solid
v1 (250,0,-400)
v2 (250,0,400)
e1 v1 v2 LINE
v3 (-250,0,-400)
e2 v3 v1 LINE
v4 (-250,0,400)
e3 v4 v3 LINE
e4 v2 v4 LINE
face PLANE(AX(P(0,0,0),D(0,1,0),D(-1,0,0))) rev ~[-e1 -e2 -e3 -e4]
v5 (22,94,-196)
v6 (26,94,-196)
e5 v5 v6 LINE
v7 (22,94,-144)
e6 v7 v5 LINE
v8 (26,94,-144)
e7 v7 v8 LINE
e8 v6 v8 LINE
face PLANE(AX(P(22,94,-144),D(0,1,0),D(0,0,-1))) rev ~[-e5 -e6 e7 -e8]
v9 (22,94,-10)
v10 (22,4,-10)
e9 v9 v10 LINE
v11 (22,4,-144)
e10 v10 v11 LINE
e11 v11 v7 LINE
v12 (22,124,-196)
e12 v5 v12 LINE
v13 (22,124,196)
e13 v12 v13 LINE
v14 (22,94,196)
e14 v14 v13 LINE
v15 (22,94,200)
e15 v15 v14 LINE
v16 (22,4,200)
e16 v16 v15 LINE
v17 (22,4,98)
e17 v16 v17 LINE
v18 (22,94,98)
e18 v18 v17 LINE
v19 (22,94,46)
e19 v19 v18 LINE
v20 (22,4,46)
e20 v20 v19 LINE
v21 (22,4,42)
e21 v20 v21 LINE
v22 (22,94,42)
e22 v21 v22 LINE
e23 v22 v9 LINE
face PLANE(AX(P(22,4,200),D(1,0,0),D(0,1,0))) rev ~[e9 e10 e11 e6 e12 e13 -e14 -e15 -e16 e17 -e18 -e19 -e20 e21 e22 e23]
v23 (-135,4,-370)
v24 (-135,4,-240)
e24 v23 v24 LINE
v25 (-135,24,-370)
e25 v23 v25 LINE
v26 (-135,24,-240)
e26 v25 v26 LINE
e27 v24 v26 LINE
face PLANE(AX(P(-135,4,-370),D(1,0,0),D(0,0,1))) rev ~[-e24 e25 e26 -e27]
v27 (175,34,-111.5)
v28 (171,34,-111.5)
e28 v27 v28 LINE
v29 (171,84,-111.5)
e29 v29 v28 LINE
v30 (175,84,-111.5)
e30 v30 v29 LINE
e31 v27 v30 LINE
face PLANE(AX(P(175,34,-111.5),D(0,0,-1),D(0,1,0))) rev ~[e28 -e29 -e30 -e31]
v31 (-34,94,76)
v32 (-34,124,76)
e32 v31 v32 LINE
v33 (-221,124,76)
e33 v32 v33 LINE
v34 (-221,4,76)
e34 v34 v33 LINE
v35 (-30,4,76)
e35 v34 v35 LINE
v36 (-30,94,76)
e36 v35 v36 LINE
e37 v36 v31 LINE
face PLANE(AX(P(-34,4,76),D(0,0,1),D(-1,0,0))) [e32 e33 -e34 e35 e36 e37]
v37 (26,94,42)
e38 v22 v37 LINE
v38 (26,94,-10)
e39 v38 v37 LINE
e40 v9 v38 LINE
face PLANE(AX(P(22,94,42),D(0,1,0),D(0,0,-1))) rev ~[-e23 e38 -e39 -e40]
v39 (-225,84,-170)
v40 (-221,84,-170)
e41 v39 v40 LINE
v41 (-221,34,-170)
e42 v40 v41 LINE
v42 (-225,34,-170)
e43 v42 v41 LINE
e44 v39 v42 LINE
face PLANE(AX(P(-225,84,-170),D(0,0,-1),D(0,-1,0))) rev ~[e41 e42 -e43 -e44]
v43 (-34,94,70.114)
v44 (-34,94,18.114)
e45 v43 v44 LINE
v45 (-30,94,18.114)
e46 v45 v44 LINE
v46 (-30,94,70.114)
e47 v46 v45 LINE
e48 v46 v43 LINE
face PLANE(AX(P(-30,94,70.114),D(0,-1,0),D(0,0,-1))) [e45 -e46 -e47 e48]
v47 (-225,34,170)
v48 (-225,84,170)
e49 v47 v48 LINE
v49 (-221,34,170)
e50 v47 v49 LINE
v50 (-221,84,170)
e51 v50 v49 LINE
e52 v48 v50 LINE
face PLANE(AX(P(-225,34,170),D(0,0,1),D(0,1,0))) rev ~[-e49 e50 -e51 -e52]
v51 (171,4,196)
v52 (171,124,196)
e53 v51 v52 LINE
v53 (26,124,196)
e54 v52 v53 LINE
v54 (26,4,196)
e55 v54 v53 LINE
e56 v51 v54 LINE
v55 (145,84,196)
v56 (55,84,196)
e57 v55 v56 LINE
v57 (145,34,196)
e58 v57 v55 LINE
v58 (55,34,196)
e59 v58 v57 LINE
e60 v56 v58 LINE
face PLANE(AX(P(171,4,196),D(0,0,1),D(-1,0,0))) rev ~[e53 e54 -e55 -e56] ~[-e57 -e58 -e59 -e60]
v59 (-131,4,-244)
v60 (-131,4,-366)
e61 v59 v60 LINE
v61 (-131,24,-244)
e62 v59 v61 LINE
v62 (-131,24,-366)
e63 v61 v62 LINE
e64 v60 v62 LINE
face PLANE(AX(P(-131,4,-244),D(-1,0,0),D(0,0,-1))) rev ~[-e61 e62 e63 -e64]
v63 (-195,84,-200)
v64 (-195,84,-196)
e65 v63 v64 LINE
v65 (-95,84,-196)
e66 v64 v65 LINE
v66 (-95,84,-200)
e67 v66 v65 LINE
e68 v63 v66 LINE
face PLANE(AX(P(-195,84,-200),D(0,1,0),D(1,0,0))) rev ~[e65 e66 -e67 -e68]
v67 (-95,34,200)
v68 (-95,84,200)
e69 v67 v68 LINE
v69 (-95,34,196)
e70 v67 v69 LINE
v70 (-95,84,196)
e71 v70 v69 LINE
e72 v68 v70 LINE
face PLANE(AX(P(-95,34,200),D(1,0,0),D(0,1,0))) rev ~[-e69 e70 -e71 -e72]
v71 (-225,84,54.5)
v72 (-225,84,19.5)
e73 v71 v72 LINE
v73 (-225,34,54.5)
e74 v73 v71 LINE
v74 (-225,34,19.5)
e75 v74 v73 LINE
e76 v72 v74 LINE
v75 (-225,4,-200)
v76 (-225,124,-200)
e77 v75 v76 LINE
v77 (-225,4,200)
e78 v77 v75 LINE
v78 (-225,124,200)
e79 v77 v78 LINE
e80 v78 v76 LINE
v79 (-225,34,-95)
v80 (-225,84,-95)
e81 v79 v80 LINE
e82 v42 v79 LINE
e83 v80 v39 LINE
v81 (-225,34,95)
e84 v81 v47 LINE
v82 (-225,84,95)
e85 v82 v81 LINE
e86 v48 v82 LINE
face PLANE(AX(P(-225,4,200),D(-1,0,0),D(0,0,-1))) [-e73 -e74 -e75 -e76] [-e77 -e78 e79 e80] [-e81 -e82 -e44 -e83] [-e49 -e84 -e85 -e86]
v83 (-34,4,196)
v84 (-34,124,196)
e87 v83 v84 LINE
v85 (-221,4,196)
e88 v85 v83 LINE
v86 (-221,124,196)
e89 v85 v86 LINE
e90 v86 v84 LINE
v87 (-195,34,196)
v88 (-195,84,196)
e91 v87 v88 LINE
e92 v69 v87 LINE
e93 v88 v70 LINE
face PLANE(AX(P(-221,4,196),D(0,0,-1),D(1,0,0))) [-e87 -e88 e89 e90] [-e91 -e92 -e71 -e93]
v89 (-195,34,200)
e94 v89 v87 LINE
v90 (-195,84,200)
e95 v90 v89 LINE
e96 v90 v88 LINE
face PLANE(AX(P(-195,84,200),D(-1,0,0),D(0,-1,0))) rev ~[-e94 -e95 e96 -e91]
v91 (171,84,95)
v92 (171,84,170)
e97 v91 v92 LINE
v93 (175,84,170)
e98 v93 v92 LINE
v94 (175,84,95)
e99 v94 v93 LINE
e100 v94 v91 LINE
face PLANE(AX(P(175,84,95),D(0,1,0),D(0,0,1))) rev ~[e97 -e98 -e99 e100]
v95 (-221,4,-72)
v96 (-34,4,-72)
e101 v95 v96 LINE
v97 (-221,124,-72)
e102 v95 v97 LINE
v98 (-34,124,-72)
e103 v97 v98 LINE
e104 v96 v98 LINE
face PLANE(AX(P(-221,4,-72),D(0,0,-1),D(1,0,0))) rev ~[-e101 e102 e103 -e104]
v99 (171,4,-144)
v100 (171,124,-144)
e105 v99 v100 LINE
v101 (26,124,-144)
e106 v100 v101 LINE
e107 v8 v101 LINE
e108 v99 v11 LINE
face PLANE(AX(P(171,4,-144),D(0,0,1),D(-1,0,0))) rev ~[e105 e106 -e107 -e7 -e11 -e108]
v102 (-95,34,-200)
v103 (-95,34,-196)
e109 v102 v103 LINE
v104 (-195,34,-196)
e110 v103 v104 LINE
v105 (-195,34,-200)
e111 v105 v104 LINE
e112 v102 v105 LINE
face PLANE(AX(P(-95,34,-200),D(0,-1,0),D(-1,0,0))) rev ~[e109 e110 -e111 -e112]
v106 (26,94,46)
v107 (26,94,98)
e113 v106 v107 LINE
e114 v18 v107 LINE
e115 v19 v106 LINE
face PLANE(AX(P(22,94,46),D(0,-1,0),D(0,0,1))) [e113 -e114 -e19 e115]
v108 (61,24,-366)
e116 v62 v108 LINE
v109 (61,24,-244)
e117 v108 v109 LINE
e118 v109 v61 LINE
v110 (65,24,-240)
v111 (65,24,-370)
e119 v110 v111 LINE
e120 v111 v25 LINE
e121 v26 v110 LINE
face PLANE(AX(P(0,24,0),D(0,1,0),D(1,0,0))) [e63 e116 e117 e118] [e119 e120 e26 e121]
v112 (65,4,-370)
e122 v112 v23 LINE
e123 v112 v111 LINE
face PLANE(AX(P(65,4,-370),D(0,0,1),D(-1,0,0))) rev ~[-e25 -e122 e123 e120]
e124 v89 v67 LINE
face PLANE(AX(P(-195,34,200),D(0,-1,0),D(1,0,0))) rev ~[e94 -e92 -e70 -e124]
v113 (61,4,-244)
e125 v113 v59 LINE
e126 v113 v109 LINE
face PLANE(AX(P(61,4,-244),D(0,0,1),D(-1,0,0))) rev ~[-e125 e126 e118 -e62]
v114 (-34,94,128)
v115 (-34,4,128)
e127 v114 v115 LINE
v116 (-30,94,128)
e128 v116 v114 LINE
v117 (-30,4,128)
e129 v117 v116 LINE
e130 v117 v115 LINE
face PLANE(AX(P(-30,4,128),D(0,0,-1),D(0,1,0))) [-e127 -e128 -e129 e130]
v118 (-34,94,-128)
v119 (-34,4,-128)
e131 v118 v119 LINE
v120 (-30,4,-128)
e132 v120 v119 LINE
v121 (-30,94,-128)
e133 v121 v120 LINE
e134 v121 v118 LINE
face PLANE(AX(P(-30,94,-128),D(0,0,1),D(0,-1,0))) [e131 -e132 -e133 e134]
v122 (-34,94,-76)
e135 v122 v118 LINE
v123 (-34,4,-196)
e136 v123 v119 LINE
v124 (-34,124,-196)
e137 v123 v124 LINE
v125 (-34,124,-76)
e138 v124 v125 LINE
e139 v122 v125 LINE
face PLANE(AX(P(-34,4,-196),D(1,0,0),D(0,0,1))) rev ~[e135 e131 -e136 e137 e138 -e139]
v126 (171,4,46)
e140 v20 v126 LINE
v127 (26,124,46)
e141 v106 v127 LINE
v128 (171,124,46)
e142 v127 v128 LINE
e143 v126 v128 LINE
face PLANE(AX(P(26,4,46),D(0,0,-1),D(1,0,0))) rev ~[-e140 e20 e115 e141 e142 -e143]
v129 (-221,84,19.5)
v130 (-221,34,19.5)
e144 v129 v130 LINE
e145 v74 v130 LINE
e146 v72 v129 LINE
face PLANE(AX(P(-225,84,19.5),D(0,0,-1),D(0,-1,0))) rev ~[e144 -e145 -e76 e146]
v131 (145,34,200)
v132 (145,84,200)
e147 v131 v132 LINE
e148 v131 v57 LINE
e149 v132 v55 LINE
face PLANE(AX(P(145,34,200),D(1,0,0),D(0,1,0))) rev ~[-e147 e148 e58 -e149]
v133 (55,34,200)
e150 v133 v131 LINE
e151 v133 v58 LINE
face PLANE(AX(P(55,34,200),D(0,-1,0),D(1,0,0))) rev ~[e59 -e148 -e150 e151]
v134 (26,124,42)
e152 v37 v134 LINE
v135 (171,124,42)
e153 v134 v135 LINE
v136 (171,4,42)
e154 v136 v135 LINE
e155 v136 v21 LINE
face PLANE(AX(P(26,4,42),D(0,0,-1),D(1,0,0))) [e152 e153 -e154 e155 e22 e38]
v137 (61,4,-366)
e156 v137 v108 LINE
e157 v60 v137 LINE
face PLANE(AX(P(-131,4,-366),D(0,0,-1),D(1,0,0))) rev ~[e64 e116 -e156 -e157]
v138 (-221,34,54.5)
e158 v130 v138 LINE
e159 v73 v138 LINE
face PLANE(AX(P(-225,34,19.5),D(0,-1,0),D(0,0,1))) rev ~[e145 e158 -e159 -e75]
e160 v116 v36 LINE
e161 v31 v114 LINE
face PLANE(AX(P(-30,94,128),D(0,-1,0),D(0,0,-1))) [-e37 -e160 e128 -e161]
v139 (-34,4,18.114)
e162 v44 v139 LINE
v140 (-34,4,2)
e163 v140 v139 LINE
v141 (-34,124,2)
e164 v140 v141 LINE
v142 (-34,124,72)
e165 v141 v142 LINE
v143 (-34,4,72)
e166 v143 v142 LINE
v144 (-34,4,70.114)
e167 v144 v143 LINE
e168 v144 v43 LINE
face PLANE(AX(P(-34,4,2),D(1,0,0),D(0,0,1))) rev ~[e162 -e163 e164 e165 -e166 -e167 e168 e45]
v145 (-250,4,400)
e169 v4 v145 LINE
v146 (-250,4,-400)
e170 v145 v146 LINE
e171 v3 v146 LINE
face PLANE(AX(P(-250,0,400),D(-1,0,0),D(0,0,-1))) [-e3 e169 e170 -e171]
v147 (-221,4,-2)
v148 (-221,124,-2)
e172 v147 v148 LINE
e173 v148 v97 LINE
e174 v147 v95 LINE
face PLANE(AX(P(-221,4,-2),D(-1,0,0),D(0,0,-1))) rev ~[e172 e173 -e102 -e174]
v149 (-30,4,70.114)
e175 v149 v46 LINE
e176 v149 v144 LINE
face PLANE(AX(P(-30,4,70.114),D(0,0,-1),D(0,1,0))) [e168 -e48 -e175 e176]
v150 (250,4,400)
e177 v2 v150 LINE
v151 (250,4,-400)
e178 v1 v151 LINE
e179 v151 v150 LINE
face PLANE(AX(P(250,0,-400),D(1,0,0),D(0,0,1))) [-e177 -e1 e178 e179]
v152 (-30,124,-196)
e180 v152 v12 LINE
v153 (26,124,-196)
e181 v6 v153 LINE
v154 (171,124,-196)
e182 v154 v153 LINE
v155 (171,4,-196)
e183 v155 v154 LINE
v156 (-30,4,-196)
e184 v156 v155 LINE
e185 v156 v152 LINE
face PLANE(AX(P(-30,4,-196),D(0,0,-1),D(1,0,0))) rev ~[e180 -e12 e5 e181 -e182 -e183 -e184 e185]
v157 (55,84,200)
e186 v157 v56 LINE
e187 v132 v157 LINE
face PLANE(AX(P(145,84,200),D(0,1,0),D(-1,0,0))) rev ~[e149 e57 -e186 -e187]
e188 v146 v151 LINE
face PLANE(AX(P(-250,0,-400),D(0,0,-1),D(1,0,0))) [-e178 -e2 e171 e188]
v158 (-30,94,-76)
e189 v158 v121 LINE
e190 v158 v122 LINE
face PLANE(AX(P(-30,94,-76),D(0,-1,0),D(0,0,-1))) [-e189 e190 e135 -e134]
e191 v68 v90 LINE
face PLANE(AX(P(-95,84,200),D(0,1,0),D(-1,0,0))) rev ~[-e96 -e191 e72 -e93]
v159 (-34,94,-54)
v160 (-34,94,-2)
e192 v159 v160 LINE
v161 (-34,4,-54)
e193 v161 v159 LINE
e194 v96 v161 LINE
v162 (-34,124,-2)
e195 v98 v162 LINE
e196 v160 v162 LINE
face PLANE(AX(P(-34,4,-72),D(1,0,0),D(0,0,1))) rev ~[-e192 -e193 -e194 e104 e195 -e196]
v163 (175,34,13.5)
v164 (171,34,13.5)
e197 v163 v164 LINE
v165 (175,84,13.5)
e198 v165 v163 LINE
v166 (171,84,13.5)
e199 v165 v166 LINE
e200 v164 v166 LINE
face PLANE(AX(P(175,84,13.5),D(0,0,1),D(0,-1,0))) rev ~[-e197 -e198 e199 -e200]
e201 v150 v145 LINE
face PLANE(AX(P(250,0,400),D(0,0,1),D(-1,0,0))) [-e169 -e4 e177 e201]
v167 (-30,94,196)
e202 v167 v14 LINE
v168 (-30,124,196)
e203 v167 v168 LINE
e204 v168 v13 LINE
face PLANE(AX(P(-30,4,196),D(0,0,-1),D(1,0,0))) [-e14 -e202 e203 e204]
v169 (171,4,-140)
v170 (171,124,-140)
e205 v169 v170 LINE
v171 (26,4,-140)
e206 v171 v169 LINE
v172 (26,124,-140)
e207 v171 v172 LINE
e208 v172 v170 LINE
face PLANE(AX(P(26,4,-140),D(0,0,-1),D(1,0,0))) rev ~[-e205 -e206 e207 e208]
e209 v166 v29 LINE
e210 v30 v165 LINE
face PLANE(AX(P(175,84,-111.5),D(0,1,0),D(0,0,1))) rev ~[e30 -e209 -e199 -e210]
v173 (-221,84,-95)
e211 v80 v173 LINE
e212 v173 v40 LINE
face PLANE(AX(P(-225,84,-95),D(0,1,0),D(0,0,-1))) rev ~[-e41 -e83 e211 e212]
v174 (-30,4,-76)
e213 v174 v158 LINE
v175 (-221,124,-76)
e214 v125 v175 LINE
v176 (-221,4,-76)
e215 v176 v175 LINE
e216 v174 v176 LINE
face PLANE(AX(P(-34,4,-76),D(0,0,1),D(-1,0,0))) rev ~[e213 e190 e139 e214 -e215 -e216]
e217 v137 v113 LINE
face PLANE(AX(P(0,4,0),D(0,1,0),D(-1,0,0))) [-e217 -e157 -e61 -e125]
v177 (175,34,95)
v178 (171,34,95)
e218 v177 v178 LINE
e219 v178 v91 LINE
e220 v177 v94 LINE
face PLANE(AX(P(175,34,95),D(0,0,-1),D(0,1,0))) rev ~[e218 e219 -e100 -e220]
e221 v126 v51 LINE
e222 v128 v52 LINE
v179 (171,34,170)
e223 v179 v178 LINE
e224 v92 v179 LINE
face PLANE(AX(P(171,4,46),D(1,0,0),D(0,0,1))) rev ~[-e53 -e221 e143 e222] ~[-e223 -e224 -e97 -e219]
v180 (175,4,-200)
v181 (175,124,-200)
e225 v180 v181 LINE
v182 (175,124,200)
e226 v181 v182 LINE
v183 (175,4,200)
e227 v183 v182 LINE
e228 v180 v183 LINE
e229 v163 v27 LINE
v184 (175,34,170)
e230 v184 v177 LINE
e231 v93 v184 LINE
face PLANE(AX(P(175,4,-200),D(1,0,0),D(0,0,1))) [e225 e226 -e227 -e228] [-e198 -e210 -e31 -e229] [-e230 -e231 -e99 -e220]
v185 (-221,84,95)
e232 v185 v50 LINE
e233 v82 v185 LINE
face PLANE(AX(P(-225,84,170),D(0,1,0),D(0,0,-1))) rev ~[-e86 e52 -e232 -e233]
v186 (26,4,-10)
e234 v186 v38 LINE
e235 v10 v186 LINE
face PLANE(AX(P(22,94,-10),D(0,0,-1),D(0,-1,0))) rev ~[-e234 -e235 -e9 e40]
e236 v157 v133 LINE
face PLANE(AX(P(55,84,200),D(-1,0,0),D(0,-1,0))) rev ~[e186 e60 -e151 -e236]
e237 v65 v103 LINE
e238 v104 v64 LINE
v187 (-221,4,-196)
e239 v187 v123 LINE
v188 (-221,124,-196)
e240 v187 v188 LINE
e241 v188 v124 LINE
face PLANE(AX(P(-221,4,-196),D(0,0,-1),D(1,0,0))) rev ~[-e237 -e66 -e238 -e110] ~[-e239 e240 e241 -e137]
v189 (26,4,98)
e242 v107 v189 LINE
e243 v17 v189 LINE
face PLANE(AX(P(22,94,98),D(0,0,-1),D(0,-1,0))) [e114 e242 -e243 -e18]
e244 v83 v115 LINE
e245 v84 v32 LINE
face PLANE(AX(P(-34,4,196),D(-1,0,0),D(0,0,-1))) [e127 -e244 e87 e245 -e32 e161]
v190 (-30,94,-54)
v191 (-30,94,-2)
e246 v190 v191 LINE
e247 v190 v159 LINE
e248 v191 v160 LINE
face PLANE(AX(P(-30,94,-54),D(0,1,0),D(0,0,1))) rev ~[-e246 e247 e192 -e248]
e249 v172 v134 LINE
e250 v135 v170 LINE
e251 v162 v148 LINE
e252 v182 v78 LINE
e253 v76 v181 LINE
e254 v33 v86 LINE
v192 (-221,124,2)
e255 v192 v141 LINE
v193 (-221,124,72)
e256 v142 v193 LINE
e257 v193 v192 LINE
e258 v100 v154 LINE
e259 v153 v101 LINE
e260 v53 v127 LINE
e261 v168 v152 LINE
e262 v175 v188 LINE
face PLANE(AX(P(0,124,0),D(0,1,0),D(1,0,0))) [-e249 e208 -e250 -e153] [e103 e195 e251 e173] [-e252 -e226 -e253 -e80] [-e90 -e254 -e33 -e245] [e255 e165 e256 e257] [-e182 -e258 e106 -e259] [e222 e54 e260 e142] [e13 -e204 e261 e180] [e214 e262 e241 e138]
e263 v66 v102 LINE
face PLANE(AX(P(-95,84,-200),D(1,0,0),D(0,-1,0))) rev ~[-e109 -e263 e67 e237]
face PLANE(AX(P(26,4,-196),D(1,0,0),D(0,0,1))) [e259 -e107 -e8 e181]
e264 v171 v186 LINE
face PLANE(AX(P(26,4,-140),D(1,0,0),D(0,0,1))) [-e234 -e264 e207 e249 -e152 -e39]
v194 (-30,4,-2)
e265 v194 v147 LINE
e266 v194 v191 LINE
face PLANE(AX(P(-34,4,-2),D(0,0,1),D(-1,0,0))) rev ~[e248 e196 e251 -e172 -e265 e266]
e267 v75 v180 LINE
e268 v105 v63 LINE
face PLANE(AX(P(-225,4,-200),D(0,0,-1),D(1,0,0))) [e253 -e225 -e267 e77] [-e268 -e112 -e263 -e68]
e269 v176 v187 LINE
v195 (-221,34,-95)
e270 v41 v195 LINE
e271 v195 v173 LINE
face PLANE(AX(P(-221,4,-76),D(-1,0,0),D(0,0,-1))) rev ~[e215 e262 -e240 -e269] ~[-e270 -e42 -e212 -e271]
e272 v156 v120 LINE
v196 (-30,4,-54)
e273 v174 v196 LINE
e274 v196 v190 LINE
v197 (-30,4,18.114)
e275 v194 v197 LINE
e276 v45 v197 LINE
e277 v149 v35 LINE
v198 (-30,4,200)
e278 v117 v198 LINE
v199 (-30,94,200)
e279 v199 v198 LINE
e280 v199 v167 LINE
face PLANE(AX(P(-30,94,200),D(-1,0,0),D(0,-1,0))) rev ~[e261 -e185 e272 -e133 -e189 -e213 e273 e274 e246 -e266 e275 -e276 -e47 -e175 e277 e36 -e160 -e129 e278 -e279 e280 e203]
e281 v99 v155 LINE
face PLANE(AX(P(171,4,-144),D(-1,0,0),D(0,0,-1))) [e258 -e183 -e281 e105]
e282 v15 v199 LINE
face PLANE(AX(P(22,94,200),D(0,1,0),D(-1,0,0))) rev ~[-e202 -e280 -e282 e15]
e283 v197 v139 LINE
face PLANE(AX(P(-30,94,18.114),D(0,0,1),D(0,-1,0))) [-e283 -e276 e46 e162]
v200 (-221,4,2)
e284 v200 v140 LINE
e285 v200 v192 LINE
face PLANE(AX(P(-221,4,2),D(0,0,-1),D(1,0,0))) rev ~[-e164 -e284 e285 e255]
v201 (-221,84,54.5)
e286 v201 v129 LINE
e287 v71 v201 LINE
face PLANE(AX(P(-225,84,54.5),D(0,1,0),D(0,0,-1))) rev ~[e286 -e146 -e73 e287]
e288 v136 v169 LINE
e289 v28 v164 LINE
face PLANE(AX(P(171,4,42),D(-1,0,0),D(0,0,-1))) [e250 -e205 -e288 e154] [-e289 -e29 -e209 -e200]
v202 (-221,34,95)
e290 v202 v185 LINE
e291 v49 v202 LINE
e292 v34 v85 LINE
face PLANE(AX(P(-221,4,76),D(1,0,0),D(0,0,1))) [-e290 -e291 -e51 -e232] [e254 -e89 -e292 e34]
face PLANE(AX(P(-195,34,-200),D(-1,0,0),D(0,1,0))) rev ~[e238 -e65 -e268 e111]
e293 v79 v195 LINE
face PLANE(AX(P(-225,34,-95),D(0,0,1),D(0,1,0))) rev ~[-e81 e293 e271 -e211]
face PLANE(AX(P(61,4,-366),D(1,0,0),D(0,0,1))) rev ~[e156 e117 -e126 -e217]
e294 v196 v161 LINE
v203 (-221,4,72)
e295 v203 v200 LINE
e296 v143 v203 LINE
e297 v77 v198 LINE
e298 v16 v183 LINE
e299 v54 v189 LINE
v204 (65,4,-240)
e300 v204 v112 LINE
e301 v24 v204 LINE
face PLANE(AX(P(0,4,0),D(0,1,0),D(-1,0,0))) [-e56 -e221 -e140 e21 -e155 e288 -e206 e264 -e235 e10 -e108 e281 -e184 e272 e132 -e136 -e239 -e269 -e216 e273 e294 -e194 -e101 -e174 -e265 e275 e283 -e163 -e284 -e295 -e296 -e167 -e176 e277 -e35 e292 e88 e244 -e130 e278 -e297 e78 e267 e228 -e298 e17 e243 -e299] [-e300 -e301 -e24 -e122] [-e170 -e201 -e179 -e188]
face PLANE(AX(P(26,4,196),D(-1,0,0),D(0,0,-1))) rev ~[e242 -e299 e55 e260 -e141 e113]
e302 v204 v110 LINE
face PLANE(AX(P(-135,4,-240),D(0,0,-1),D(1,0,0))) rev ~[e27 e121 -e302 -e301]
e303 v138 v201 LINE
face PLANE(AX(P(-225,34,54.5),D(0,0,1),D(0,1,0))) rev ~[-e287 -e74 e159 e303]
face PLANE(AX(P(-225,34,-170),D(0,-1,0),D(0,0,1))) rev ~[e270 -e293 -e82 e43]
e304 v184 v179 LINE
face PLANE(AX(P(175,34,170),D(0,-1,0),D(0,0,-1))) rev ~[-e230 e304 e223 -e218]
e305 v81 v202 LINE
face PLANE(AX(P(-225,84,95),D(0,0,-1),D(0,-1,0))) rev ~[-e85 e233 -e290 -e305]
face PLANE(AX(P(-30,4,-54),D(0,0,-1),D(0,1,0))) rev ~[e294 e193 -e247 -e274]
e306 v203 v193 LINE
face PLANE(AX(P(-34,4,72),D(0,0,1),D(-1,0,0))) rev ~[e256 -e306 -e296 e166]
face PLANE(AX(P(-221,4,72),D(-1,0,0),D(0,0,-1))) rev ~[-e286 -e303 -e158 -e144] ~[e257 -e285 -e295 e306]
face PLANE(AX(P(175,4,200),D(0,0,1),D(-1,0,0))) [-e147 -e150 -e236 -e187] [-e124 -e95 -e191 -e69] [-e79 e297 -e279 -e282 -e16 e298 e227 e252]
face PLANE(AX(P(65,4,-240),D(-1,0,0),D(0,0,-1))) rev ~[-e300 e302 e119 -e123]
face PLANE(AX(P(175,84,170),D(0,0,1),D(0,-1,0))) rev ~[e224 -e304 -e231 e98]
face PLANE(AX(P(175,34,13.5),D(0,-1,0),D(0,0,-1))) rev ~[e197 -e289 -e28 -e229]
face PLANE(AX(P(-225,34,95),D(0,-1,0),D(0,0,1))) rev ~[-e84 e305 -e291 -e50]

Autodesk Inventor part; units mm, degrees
ref_plane "YZ Plane" through (0, 0, 0) normal (1, 0, 0) x (0, 1, 0)
sketch "Boceto1" plane through (0, 0, 0) normal (0, 1, 0) x (-1, 0, 0)
  line L0 (-250, 400) -> (250, 400)
  line L1 (250, 400) -> (250, -400)
  line L2 (250, -400) -> (-250, -400)
  line L3 (-250, -400) -> (-250, 400)
  line L4 (-250, 400) -> (250, -400) construction
  line L5 (250, 400) -> (-250, -400) construction
  line L6 (-175, 200) -> (225, 200)
  line L7 (225, 200) -> (225, -200)
  line L8 (225, -200) -> (-175, -200)
  line L9 (-175, -200) -> (-175, 200)
  line L10 (-175, 200) -> (225, -200) construction
  line L11 (225, 200) -> (-175, -200) construction
  point P0 (0, 0)
  point P1 (25, 0)
  dimension "d0" = 500
  dimension "d1" = 800
  dimension "d4" = 400
  dimension "d5" = 400
  dimension "d6" = 200
  dimension "d7" = 75
extrude "Extrusión1" add sketch "Boceto1" along normal blind 4 contours L0 L1 L2 L3 | L6 L7 L8 L9
sketch "Boceto2" plane through (0, 4, 0) normal (0, 1, 0) x (1, 0, 0)
  line L0 (175, -200) -> (-225, -200)
  line L1 (-225, -200) -> (-225, 200)
  line L2 (-225, 200) -> (175, 200)
  line L3 (175, 200) -> (175, -200)
  line L4 (175, -200) -> (-225, 200) construction
  line L5 (-225, -200) -> (175, 200) construction
  line L6 (250, -400) -> (250, 400) projected
  line L7 (250, 400) -> (-250, 400) projected
  line L8 (-221, -196) -> (-34, -196)
  line L9 (-34, -196) -> (-34, -76)
  line L10 (-34, -76) -> (-221, -76)
  line L11 (-221, -76) -> (-221, -196)
  line L12 (171, -196) -> (26, -196)
  line L13 (26, -196) -> (26, -46)
  line L14 (26, -46) -> (171, -46)
  line L15 (171, -46) -> (171, -196)
  line L16 (171, 196) -> (26, 196)
  line L17 (26, 196) -> (26, -42)
  line L18 (26, -42) -> (171, -42)
  line L19 (171, -42) -> (171, 196)
  line L20 (-34, -72) -> (-221, -72)
  line L21 (-221, -72) -> (-221, 72)
  line L22 (-221, 72) -> (-34, 72)
  line L23 (-34, 72) -> (-34, -72)
  line L24 (-34, 76) -> (-221, 76)
  line L25 (-221, 76) -> (-221, 196)
  line L26 (-221, 196) -> (-34, 196)
  line L27 (-34, 196) -> (-34, 76)
  line L28 (-30, 196) -> (22, 196)
  line L29 (22, 196) -> (22, 122)
  line L30 (-30, 122) -> (-30, 196)
  line L31 (-34, 0) -> (-34, -2)
  line L32 (-34, -2) -> (-34, 2)
  line L33 (-34, 2) -> (-221, 2)
  line L34 (-221, -2) -> (-34, -2)
  line L35 (-30, -200) -> (-30, 122)
  line L36 (22, 122) -> (22, -200)
  line L37 (-30, -196) -> (22, -196)
  line L38 (26, 196) -> (26, 144)
  line L39 (26, 144) -> (26, 140)
  line L40 (26, 140) -> (171, 140)
  line L41 (171, 144) -> (26, 144)
  point P0 (0, 0)
  point P1 (-25, 0)
  point P2 (-30, 126)
  point P3 (22, 126)
  dimension "d8" = 400
  dimension "d9" = 400
  dimension "d10" = 75
  dimension "d11" = 200
  dimension "d12" = 4
  dimension "d13" = 4
  dimension "d14" = 4
  dimension "d15" = 4
  dimension "d16" = 4
  dimension "d17" = 60
  dimension "d18" = 145
  dimension "d19" = 150
  dimension "d20" = 120
  dimension "d21" = 120
  dimension "d22" = 4
  dimension "d23" = 4
  dimension "d24" = 2
  dimension "d25" = 4
  dimension "d27" = 4
  dimension "d39" = 52
  dimension "d40" = 4
ref_plane "Plano de trabajo1" through (-225, 4, 200) normal (0, 0, 1) x (1, 0, 0)
sketch "Boceto3" plane through (-225, 4, 200) normal (0, 0, 1) x (1, 0, 0)
  line L0 (195, 0) -> (195, 120) projected
  line L1 (247, 0) -> (247, 120) projected
  line L2 (195, 0) -> (247, 0)
  line L3 (247, 0) -> (247, 90)
  line L4 (247, 90) -> (195, 90)
  line L5 (195, 90) -> (195, 0)
  point P0 (225, -4)
  dimension "d31" = 90
extrude "Extrusión3" cut sketch "Boceto3" against normal blind 120
ref_plane "Plano de trabajo2" through (-30, 4, 200) normal (1, 0, 0) x (0, 0, -1)
sketch "Boceto4" plane through (-30, 4, 200) normal (1, 0, 0) x (0, 0, -1)
  line L0 (124, 0) -> (124, 120) projected
  line L1 (124, 0) -> (72, 0)
  line L2 (72, 0) -> (72, 90)
  line L3 (72, 90) -> (124, 90)
  line L4 (124, 90) -> (124, 0)
  line L5 (0, 0) -> (400, 0) projected
  line L6 (129.886, 90) -> (181.886, 90)
  line L7 (181.886, 90) -> (181.886, 0)
  line L8 (181.886, 0) -> (129.886, 0)
  line L9 (129.886, 0) -> (129.886, 90)
  line L10 (202, 0) -> (202, 120) projected
  line L11 (202, 0) -> (254, 0)
  line L12 (254, 0) -> (254, 90)
  line L13 (254, 90) -> (202, 90)
  line L14 (202, 90) -> (202, 0)
  line L15 (276, 0) -> (276, 120) projected
  line L16 (396, 0) -> (276, 0) projected
  line L17 (276, 90) -> (328, 90)
  line L18 (328, 90) -> (328, 0)
  line L19 (328, 0) -> (276, 0)
  line L20 (276, 0) -> (276, 90)
  point P0 (200, -4)
  dimension "d34" = 52
  dimension "d35" = 90
  dimension "d36" = 52
  dimension "d37" = 52
  dimension "d38" = 52
extrude "Extrusión4" add sketch "Boceto2" along normal blind 120 contours L0 L36 L29 L28 L30 L35 L1 L2 L3 | L0 L35 L37 L36 | L19 L40 L17 L41 | L34 L21 L33 L23
extrude "Extrusión5" cut sketch "Boceto4" against normal blind 120
sketch "Boceto5" plane through (22, 4, -196) normal (-1, 0, 0) x (0, 0, 1)
  line L0 (596, 0) -> (-204, 0) projected
  line L1 (0, 0) -> (52, 0)
  line L2 (52, 0) -> (52, 90)
  line L3 (52, 90) -> (0, 90)
  line L4 (0, 90) -> (0, 0)
  line L5 (238, 0) -> (238, 120) projected
  line L6 (238, 90) -> (186, 90)
  line L7 (186, 90) -> (186, 0)
  line L8 (186, 0) -> (238, 0)
  line L9 (238, 0) -> (238, 90)
  line L10 (242, 0) -> (242, 120) projected
  line L11 (242, 0) -> (392, 0) projected
  line L12 (242, 90) -> (294, 90)
  line L13 (294, 90) -> (294, 0)
  line L14 (294, 0) -> (242, 0)
  line L15 (242, 0) -> (242, 90)
  line L16 (0, 0) -> (0, 120) projected
  point P0 (196, -4)
  dimension "d45" = 52
  dimension "d46" = 90
  dimension "d47" = 52
  dimension "d48" = 52
  dimension "d108" = 0
extrude "Extrusión6" cut sketch "Boceto5" against normal blind 120
sketch "Boceto6" plane through (-225, 4, 200) normal (0, 0, 1) x (1, 0, 0)
  line L0 (195, 0) -> (247, 0) projected
  line L1 (247, 0) -> (247, 120) projected
  line L2 (195, 0) -> (247, 0)
  line L3 (247, 0) -> (247, 90)
  line L4 (247, 90) -> (195, 90)
  line L5 (195, 90) -> (195, 0)
  point P0 (225, -4)
  dimension "d51" = 90
extrude "Extrusión7" cut sketch "Boceto6" against normal blind 120
sketch "Boceto7" plane through (0, 4, 0) normal (0, 1, 0) x (1, 0, 0)
  line L0 (-135, 240) -> (65, 240)
  line L1 (65, 240) -> (65, 370)
  line L2 (65, 370) -> (-135, 370)
  line L3 (-135, 370) -> (-135, 240)
  line L4 (175, 200) -> (-225, 200) projected
  line L5 (-250, 400) -> (-250, -400) projected
  line L6 (61, 244) -> (-131, 244)
  line L7 (-131, 244) -> (-131, 366)
  line L8 (-131, 366) -> (61, 366)
  line L9 (61, 366) -> (61, 244)
  line L10 (61, 244) -> (-131, 366) construction
  line L11 (-131, 244) -> (61, 366) construction
  point P0 (0, 0)
  point P1 (-35, 305)
  dimension "d54" = 200
  dimension "d55" = 130
  dimension "d56" = 40
  dimension "d57" = 115
  dimension "d58" = 192
  dimension "d59" = 122
  dimension "d60" = 4
  dimension "d61" = 4
extrude "Extrusión8" add sketch "Boceto7" along normal blind 20
sketch "Boceto8" plane through (-225, 4, 200) normal (0, 0, 1) x (1, 0, 0)
  line L0 (30, 30) -> (130, 30)
  line L1 (130, 30) -> (130, 80)
  line L2 (130, 80) -> (30, 80)
  line L3 (30, 80) -> (30, 30)
  line L4 (30, 30) -> (130, 80) construction
  line L5 (130, 30) -> (30, 80) construction
  line L6 (195, 0) -> (0, 0) projected
  line L7 (0, 0) -> (0, 120) projected
  point P0 (225, -4)
  point P1 (80, 55)
  dimension "d64" = 100
  dimension "d65" = 50
  dimension "d66" = 30
  dimension "d67" = 30
extrude "Extrusión9" cut sketch "Boceto8" against normal blind 10
sketch "Boceto9" plane through (-225, 4, -200) normal (-1, 0, 0) x (0, 0, 1)
  line L0 (295, 30) -> (370, 30)
  line L1 (370, 30) -> (370, 80)
  line L2 (370, 80) -> (295, 80)
  line L3 (295, 80) -> (295, 30)
  line L4 (295, 30) -> (370, 80) construction
  line L5 (370, 30) -> (295, 80) construction
  line L6 (400, 0) -> (400, 120) projected
  line L7 (400, 0) -> (0, 0) projected
  point P0 (200, -4)
  point P1 (332.5, 55)
  dimension "d70" = 75
  dimension "d71" = 50
  dimension "d72" = 30
  dimension "d73" = 30
extrude "Extrusión10" cut sketch "Boceto9" against normal blind 10
sketch "Boceto10" plane through (-225, 4, -200) normal (-1, 0, 0) x (0, 0, 1)
  line L0 (30, 30) -> (105, 30)
  line L1 (105, 30) -> (105, 80)
  line L2 (105, 80) -> (30, 80)
  line L3 (30, 80) -> (30, 30)
  line L4 (30, 30) -> (105, 80) construction
  line L5 (105, 30) -> (30, 80) construction
  line L6 (0, 0) -> (0, 120) projected
  line L7 (-200, 0) -> (600, 0) projected
  line L8 (219.5, 30) -> (254.5, 30)
  line L9 (254.5, 30) -> (254.5, 80)
  line L10 (254.5, 80) -> (219.5, 80)
  line L11 (219.5, 80) -> (219.5, 30)
  line L12 (219.5, 30) -> (254.5, 80) construction
  line L13 (254.5, 30) -> (219.5, 80) construction
  line L14 (272, 0) -> (272, 120) projected
  point P0 (200, -4)
  point P1 (67.5, 55)
  point P2 (237, 55)
  dimension "d76" = 75
  dimension "d77" = 50
  dimension "d78" = 30
  dimension "d79" = 30
  dimension "d80" = 35
  dimension "d81" = 50
  dimension "d82" = 30
  dimension "d83" = 17.5
extrude "Extrusión11" cut sketch "Boceto10" against normal blind 10
sketch "Boceto11" plane through (-225, 4, 200) normal (0, 0, 1) x (1, 0, 0)
  line L0 (280, 30) -> (370, 30)
  line L1 (370, 30) -> (370, 80)
  line L2 (370, 80) -> (280, 80)
  line L3 (280, 80) -> (280, 30)
  line L4 (280, 30) -> (370, 80) construction
  line L5 (370, 30) -> (280, 80) construction
  line L6 (-25, 0) -> (475, 0) projected
  line L7 (400, 0) -> (400, 120) projected
  point P0 (225, -4)
  point P1 (325, 55)
  dimension "d86" = 90
  dimension "d88" = 30
  dimension "d89" = 50
  dimension "d90" = 30
extrude "Extrusión12" cut sketch "Boceto11" against normal blind 10
sketch "Boceto12" plane through (175, 4, -200) normal (0, 0, -1) x (-1, 0, 0)
  line L0 (270, 30) -> (370, 30)
  line L1 (370, 30) -> (370, 80)
  line L2 (370, 80) -> (270, 80)
  line L3 (270, 80) -> (270, 30)
  line L4 (270, 30) -> (370, 80) construction
  line L5 (370, 30) -> (270, 80) construction
  line L6 (400, 0) -> (400, 120) projected
  line L7 (-75, 0) -> (425, 0) projected
  point P0 (175, -4)
  point P1 (320, 55)
  dimension "d93" = 100
  dimension "d94" = 50
  dimension "d95" = 30
  dimension "d96" = 30
extrude "Extrusión13" cut sketch "Boceto12" against normal blind 10
sketch "Boceto13" plane through (175, 4, 200) normal (1, 0, 0) x (0, 0, -1)
  line L0 (30, 30) -> (105, 30) projected
  line L1 (105, 80) -> (30, 80) projected
  line L2 (30, 30) -> (105, 30)
  line L3 (105, 30) -> (105, 80)
  line L4 (105, 80) -> (30, 80)
  line L5 (30, 80) -> (30, 30)
  point P0 (200, -4)
extrude "Extrusión14" cut sketch "Boceto13" against normal blind 10
sketch "Boceto14" plane through (175, 4, 200) normal (1, 0, 0) x (0, 0, -1)
  line L0 (186.5, 30) -> (311.5, 30)
  line L1 (311.5, 30) -> (311.5, 80)
  line L2 (311.5, 80) -> (186.5, 80)
  line L3 (186.5, 80) -> (186.5, 30)
  line L4 (186.5, 30) -> (311.5, 80) construction
  line L5 (311.5, 30) -> (186.5, 80) construction
  line L6 (-200, 0) -> (600, 0) projected
  line L7 (158, 0) -> (158, 120) projected
  point P0 (200, -4)
  point P1 (249, 55)
  dimension "d101" = 125
  dimension "d102" = 50
  dimension "d103" = 30
  dimension "d105" = 91
extrude "Extrusión15" cut sketch "Boceto14" against normal blind 10
properties part number "maqueta casa"
